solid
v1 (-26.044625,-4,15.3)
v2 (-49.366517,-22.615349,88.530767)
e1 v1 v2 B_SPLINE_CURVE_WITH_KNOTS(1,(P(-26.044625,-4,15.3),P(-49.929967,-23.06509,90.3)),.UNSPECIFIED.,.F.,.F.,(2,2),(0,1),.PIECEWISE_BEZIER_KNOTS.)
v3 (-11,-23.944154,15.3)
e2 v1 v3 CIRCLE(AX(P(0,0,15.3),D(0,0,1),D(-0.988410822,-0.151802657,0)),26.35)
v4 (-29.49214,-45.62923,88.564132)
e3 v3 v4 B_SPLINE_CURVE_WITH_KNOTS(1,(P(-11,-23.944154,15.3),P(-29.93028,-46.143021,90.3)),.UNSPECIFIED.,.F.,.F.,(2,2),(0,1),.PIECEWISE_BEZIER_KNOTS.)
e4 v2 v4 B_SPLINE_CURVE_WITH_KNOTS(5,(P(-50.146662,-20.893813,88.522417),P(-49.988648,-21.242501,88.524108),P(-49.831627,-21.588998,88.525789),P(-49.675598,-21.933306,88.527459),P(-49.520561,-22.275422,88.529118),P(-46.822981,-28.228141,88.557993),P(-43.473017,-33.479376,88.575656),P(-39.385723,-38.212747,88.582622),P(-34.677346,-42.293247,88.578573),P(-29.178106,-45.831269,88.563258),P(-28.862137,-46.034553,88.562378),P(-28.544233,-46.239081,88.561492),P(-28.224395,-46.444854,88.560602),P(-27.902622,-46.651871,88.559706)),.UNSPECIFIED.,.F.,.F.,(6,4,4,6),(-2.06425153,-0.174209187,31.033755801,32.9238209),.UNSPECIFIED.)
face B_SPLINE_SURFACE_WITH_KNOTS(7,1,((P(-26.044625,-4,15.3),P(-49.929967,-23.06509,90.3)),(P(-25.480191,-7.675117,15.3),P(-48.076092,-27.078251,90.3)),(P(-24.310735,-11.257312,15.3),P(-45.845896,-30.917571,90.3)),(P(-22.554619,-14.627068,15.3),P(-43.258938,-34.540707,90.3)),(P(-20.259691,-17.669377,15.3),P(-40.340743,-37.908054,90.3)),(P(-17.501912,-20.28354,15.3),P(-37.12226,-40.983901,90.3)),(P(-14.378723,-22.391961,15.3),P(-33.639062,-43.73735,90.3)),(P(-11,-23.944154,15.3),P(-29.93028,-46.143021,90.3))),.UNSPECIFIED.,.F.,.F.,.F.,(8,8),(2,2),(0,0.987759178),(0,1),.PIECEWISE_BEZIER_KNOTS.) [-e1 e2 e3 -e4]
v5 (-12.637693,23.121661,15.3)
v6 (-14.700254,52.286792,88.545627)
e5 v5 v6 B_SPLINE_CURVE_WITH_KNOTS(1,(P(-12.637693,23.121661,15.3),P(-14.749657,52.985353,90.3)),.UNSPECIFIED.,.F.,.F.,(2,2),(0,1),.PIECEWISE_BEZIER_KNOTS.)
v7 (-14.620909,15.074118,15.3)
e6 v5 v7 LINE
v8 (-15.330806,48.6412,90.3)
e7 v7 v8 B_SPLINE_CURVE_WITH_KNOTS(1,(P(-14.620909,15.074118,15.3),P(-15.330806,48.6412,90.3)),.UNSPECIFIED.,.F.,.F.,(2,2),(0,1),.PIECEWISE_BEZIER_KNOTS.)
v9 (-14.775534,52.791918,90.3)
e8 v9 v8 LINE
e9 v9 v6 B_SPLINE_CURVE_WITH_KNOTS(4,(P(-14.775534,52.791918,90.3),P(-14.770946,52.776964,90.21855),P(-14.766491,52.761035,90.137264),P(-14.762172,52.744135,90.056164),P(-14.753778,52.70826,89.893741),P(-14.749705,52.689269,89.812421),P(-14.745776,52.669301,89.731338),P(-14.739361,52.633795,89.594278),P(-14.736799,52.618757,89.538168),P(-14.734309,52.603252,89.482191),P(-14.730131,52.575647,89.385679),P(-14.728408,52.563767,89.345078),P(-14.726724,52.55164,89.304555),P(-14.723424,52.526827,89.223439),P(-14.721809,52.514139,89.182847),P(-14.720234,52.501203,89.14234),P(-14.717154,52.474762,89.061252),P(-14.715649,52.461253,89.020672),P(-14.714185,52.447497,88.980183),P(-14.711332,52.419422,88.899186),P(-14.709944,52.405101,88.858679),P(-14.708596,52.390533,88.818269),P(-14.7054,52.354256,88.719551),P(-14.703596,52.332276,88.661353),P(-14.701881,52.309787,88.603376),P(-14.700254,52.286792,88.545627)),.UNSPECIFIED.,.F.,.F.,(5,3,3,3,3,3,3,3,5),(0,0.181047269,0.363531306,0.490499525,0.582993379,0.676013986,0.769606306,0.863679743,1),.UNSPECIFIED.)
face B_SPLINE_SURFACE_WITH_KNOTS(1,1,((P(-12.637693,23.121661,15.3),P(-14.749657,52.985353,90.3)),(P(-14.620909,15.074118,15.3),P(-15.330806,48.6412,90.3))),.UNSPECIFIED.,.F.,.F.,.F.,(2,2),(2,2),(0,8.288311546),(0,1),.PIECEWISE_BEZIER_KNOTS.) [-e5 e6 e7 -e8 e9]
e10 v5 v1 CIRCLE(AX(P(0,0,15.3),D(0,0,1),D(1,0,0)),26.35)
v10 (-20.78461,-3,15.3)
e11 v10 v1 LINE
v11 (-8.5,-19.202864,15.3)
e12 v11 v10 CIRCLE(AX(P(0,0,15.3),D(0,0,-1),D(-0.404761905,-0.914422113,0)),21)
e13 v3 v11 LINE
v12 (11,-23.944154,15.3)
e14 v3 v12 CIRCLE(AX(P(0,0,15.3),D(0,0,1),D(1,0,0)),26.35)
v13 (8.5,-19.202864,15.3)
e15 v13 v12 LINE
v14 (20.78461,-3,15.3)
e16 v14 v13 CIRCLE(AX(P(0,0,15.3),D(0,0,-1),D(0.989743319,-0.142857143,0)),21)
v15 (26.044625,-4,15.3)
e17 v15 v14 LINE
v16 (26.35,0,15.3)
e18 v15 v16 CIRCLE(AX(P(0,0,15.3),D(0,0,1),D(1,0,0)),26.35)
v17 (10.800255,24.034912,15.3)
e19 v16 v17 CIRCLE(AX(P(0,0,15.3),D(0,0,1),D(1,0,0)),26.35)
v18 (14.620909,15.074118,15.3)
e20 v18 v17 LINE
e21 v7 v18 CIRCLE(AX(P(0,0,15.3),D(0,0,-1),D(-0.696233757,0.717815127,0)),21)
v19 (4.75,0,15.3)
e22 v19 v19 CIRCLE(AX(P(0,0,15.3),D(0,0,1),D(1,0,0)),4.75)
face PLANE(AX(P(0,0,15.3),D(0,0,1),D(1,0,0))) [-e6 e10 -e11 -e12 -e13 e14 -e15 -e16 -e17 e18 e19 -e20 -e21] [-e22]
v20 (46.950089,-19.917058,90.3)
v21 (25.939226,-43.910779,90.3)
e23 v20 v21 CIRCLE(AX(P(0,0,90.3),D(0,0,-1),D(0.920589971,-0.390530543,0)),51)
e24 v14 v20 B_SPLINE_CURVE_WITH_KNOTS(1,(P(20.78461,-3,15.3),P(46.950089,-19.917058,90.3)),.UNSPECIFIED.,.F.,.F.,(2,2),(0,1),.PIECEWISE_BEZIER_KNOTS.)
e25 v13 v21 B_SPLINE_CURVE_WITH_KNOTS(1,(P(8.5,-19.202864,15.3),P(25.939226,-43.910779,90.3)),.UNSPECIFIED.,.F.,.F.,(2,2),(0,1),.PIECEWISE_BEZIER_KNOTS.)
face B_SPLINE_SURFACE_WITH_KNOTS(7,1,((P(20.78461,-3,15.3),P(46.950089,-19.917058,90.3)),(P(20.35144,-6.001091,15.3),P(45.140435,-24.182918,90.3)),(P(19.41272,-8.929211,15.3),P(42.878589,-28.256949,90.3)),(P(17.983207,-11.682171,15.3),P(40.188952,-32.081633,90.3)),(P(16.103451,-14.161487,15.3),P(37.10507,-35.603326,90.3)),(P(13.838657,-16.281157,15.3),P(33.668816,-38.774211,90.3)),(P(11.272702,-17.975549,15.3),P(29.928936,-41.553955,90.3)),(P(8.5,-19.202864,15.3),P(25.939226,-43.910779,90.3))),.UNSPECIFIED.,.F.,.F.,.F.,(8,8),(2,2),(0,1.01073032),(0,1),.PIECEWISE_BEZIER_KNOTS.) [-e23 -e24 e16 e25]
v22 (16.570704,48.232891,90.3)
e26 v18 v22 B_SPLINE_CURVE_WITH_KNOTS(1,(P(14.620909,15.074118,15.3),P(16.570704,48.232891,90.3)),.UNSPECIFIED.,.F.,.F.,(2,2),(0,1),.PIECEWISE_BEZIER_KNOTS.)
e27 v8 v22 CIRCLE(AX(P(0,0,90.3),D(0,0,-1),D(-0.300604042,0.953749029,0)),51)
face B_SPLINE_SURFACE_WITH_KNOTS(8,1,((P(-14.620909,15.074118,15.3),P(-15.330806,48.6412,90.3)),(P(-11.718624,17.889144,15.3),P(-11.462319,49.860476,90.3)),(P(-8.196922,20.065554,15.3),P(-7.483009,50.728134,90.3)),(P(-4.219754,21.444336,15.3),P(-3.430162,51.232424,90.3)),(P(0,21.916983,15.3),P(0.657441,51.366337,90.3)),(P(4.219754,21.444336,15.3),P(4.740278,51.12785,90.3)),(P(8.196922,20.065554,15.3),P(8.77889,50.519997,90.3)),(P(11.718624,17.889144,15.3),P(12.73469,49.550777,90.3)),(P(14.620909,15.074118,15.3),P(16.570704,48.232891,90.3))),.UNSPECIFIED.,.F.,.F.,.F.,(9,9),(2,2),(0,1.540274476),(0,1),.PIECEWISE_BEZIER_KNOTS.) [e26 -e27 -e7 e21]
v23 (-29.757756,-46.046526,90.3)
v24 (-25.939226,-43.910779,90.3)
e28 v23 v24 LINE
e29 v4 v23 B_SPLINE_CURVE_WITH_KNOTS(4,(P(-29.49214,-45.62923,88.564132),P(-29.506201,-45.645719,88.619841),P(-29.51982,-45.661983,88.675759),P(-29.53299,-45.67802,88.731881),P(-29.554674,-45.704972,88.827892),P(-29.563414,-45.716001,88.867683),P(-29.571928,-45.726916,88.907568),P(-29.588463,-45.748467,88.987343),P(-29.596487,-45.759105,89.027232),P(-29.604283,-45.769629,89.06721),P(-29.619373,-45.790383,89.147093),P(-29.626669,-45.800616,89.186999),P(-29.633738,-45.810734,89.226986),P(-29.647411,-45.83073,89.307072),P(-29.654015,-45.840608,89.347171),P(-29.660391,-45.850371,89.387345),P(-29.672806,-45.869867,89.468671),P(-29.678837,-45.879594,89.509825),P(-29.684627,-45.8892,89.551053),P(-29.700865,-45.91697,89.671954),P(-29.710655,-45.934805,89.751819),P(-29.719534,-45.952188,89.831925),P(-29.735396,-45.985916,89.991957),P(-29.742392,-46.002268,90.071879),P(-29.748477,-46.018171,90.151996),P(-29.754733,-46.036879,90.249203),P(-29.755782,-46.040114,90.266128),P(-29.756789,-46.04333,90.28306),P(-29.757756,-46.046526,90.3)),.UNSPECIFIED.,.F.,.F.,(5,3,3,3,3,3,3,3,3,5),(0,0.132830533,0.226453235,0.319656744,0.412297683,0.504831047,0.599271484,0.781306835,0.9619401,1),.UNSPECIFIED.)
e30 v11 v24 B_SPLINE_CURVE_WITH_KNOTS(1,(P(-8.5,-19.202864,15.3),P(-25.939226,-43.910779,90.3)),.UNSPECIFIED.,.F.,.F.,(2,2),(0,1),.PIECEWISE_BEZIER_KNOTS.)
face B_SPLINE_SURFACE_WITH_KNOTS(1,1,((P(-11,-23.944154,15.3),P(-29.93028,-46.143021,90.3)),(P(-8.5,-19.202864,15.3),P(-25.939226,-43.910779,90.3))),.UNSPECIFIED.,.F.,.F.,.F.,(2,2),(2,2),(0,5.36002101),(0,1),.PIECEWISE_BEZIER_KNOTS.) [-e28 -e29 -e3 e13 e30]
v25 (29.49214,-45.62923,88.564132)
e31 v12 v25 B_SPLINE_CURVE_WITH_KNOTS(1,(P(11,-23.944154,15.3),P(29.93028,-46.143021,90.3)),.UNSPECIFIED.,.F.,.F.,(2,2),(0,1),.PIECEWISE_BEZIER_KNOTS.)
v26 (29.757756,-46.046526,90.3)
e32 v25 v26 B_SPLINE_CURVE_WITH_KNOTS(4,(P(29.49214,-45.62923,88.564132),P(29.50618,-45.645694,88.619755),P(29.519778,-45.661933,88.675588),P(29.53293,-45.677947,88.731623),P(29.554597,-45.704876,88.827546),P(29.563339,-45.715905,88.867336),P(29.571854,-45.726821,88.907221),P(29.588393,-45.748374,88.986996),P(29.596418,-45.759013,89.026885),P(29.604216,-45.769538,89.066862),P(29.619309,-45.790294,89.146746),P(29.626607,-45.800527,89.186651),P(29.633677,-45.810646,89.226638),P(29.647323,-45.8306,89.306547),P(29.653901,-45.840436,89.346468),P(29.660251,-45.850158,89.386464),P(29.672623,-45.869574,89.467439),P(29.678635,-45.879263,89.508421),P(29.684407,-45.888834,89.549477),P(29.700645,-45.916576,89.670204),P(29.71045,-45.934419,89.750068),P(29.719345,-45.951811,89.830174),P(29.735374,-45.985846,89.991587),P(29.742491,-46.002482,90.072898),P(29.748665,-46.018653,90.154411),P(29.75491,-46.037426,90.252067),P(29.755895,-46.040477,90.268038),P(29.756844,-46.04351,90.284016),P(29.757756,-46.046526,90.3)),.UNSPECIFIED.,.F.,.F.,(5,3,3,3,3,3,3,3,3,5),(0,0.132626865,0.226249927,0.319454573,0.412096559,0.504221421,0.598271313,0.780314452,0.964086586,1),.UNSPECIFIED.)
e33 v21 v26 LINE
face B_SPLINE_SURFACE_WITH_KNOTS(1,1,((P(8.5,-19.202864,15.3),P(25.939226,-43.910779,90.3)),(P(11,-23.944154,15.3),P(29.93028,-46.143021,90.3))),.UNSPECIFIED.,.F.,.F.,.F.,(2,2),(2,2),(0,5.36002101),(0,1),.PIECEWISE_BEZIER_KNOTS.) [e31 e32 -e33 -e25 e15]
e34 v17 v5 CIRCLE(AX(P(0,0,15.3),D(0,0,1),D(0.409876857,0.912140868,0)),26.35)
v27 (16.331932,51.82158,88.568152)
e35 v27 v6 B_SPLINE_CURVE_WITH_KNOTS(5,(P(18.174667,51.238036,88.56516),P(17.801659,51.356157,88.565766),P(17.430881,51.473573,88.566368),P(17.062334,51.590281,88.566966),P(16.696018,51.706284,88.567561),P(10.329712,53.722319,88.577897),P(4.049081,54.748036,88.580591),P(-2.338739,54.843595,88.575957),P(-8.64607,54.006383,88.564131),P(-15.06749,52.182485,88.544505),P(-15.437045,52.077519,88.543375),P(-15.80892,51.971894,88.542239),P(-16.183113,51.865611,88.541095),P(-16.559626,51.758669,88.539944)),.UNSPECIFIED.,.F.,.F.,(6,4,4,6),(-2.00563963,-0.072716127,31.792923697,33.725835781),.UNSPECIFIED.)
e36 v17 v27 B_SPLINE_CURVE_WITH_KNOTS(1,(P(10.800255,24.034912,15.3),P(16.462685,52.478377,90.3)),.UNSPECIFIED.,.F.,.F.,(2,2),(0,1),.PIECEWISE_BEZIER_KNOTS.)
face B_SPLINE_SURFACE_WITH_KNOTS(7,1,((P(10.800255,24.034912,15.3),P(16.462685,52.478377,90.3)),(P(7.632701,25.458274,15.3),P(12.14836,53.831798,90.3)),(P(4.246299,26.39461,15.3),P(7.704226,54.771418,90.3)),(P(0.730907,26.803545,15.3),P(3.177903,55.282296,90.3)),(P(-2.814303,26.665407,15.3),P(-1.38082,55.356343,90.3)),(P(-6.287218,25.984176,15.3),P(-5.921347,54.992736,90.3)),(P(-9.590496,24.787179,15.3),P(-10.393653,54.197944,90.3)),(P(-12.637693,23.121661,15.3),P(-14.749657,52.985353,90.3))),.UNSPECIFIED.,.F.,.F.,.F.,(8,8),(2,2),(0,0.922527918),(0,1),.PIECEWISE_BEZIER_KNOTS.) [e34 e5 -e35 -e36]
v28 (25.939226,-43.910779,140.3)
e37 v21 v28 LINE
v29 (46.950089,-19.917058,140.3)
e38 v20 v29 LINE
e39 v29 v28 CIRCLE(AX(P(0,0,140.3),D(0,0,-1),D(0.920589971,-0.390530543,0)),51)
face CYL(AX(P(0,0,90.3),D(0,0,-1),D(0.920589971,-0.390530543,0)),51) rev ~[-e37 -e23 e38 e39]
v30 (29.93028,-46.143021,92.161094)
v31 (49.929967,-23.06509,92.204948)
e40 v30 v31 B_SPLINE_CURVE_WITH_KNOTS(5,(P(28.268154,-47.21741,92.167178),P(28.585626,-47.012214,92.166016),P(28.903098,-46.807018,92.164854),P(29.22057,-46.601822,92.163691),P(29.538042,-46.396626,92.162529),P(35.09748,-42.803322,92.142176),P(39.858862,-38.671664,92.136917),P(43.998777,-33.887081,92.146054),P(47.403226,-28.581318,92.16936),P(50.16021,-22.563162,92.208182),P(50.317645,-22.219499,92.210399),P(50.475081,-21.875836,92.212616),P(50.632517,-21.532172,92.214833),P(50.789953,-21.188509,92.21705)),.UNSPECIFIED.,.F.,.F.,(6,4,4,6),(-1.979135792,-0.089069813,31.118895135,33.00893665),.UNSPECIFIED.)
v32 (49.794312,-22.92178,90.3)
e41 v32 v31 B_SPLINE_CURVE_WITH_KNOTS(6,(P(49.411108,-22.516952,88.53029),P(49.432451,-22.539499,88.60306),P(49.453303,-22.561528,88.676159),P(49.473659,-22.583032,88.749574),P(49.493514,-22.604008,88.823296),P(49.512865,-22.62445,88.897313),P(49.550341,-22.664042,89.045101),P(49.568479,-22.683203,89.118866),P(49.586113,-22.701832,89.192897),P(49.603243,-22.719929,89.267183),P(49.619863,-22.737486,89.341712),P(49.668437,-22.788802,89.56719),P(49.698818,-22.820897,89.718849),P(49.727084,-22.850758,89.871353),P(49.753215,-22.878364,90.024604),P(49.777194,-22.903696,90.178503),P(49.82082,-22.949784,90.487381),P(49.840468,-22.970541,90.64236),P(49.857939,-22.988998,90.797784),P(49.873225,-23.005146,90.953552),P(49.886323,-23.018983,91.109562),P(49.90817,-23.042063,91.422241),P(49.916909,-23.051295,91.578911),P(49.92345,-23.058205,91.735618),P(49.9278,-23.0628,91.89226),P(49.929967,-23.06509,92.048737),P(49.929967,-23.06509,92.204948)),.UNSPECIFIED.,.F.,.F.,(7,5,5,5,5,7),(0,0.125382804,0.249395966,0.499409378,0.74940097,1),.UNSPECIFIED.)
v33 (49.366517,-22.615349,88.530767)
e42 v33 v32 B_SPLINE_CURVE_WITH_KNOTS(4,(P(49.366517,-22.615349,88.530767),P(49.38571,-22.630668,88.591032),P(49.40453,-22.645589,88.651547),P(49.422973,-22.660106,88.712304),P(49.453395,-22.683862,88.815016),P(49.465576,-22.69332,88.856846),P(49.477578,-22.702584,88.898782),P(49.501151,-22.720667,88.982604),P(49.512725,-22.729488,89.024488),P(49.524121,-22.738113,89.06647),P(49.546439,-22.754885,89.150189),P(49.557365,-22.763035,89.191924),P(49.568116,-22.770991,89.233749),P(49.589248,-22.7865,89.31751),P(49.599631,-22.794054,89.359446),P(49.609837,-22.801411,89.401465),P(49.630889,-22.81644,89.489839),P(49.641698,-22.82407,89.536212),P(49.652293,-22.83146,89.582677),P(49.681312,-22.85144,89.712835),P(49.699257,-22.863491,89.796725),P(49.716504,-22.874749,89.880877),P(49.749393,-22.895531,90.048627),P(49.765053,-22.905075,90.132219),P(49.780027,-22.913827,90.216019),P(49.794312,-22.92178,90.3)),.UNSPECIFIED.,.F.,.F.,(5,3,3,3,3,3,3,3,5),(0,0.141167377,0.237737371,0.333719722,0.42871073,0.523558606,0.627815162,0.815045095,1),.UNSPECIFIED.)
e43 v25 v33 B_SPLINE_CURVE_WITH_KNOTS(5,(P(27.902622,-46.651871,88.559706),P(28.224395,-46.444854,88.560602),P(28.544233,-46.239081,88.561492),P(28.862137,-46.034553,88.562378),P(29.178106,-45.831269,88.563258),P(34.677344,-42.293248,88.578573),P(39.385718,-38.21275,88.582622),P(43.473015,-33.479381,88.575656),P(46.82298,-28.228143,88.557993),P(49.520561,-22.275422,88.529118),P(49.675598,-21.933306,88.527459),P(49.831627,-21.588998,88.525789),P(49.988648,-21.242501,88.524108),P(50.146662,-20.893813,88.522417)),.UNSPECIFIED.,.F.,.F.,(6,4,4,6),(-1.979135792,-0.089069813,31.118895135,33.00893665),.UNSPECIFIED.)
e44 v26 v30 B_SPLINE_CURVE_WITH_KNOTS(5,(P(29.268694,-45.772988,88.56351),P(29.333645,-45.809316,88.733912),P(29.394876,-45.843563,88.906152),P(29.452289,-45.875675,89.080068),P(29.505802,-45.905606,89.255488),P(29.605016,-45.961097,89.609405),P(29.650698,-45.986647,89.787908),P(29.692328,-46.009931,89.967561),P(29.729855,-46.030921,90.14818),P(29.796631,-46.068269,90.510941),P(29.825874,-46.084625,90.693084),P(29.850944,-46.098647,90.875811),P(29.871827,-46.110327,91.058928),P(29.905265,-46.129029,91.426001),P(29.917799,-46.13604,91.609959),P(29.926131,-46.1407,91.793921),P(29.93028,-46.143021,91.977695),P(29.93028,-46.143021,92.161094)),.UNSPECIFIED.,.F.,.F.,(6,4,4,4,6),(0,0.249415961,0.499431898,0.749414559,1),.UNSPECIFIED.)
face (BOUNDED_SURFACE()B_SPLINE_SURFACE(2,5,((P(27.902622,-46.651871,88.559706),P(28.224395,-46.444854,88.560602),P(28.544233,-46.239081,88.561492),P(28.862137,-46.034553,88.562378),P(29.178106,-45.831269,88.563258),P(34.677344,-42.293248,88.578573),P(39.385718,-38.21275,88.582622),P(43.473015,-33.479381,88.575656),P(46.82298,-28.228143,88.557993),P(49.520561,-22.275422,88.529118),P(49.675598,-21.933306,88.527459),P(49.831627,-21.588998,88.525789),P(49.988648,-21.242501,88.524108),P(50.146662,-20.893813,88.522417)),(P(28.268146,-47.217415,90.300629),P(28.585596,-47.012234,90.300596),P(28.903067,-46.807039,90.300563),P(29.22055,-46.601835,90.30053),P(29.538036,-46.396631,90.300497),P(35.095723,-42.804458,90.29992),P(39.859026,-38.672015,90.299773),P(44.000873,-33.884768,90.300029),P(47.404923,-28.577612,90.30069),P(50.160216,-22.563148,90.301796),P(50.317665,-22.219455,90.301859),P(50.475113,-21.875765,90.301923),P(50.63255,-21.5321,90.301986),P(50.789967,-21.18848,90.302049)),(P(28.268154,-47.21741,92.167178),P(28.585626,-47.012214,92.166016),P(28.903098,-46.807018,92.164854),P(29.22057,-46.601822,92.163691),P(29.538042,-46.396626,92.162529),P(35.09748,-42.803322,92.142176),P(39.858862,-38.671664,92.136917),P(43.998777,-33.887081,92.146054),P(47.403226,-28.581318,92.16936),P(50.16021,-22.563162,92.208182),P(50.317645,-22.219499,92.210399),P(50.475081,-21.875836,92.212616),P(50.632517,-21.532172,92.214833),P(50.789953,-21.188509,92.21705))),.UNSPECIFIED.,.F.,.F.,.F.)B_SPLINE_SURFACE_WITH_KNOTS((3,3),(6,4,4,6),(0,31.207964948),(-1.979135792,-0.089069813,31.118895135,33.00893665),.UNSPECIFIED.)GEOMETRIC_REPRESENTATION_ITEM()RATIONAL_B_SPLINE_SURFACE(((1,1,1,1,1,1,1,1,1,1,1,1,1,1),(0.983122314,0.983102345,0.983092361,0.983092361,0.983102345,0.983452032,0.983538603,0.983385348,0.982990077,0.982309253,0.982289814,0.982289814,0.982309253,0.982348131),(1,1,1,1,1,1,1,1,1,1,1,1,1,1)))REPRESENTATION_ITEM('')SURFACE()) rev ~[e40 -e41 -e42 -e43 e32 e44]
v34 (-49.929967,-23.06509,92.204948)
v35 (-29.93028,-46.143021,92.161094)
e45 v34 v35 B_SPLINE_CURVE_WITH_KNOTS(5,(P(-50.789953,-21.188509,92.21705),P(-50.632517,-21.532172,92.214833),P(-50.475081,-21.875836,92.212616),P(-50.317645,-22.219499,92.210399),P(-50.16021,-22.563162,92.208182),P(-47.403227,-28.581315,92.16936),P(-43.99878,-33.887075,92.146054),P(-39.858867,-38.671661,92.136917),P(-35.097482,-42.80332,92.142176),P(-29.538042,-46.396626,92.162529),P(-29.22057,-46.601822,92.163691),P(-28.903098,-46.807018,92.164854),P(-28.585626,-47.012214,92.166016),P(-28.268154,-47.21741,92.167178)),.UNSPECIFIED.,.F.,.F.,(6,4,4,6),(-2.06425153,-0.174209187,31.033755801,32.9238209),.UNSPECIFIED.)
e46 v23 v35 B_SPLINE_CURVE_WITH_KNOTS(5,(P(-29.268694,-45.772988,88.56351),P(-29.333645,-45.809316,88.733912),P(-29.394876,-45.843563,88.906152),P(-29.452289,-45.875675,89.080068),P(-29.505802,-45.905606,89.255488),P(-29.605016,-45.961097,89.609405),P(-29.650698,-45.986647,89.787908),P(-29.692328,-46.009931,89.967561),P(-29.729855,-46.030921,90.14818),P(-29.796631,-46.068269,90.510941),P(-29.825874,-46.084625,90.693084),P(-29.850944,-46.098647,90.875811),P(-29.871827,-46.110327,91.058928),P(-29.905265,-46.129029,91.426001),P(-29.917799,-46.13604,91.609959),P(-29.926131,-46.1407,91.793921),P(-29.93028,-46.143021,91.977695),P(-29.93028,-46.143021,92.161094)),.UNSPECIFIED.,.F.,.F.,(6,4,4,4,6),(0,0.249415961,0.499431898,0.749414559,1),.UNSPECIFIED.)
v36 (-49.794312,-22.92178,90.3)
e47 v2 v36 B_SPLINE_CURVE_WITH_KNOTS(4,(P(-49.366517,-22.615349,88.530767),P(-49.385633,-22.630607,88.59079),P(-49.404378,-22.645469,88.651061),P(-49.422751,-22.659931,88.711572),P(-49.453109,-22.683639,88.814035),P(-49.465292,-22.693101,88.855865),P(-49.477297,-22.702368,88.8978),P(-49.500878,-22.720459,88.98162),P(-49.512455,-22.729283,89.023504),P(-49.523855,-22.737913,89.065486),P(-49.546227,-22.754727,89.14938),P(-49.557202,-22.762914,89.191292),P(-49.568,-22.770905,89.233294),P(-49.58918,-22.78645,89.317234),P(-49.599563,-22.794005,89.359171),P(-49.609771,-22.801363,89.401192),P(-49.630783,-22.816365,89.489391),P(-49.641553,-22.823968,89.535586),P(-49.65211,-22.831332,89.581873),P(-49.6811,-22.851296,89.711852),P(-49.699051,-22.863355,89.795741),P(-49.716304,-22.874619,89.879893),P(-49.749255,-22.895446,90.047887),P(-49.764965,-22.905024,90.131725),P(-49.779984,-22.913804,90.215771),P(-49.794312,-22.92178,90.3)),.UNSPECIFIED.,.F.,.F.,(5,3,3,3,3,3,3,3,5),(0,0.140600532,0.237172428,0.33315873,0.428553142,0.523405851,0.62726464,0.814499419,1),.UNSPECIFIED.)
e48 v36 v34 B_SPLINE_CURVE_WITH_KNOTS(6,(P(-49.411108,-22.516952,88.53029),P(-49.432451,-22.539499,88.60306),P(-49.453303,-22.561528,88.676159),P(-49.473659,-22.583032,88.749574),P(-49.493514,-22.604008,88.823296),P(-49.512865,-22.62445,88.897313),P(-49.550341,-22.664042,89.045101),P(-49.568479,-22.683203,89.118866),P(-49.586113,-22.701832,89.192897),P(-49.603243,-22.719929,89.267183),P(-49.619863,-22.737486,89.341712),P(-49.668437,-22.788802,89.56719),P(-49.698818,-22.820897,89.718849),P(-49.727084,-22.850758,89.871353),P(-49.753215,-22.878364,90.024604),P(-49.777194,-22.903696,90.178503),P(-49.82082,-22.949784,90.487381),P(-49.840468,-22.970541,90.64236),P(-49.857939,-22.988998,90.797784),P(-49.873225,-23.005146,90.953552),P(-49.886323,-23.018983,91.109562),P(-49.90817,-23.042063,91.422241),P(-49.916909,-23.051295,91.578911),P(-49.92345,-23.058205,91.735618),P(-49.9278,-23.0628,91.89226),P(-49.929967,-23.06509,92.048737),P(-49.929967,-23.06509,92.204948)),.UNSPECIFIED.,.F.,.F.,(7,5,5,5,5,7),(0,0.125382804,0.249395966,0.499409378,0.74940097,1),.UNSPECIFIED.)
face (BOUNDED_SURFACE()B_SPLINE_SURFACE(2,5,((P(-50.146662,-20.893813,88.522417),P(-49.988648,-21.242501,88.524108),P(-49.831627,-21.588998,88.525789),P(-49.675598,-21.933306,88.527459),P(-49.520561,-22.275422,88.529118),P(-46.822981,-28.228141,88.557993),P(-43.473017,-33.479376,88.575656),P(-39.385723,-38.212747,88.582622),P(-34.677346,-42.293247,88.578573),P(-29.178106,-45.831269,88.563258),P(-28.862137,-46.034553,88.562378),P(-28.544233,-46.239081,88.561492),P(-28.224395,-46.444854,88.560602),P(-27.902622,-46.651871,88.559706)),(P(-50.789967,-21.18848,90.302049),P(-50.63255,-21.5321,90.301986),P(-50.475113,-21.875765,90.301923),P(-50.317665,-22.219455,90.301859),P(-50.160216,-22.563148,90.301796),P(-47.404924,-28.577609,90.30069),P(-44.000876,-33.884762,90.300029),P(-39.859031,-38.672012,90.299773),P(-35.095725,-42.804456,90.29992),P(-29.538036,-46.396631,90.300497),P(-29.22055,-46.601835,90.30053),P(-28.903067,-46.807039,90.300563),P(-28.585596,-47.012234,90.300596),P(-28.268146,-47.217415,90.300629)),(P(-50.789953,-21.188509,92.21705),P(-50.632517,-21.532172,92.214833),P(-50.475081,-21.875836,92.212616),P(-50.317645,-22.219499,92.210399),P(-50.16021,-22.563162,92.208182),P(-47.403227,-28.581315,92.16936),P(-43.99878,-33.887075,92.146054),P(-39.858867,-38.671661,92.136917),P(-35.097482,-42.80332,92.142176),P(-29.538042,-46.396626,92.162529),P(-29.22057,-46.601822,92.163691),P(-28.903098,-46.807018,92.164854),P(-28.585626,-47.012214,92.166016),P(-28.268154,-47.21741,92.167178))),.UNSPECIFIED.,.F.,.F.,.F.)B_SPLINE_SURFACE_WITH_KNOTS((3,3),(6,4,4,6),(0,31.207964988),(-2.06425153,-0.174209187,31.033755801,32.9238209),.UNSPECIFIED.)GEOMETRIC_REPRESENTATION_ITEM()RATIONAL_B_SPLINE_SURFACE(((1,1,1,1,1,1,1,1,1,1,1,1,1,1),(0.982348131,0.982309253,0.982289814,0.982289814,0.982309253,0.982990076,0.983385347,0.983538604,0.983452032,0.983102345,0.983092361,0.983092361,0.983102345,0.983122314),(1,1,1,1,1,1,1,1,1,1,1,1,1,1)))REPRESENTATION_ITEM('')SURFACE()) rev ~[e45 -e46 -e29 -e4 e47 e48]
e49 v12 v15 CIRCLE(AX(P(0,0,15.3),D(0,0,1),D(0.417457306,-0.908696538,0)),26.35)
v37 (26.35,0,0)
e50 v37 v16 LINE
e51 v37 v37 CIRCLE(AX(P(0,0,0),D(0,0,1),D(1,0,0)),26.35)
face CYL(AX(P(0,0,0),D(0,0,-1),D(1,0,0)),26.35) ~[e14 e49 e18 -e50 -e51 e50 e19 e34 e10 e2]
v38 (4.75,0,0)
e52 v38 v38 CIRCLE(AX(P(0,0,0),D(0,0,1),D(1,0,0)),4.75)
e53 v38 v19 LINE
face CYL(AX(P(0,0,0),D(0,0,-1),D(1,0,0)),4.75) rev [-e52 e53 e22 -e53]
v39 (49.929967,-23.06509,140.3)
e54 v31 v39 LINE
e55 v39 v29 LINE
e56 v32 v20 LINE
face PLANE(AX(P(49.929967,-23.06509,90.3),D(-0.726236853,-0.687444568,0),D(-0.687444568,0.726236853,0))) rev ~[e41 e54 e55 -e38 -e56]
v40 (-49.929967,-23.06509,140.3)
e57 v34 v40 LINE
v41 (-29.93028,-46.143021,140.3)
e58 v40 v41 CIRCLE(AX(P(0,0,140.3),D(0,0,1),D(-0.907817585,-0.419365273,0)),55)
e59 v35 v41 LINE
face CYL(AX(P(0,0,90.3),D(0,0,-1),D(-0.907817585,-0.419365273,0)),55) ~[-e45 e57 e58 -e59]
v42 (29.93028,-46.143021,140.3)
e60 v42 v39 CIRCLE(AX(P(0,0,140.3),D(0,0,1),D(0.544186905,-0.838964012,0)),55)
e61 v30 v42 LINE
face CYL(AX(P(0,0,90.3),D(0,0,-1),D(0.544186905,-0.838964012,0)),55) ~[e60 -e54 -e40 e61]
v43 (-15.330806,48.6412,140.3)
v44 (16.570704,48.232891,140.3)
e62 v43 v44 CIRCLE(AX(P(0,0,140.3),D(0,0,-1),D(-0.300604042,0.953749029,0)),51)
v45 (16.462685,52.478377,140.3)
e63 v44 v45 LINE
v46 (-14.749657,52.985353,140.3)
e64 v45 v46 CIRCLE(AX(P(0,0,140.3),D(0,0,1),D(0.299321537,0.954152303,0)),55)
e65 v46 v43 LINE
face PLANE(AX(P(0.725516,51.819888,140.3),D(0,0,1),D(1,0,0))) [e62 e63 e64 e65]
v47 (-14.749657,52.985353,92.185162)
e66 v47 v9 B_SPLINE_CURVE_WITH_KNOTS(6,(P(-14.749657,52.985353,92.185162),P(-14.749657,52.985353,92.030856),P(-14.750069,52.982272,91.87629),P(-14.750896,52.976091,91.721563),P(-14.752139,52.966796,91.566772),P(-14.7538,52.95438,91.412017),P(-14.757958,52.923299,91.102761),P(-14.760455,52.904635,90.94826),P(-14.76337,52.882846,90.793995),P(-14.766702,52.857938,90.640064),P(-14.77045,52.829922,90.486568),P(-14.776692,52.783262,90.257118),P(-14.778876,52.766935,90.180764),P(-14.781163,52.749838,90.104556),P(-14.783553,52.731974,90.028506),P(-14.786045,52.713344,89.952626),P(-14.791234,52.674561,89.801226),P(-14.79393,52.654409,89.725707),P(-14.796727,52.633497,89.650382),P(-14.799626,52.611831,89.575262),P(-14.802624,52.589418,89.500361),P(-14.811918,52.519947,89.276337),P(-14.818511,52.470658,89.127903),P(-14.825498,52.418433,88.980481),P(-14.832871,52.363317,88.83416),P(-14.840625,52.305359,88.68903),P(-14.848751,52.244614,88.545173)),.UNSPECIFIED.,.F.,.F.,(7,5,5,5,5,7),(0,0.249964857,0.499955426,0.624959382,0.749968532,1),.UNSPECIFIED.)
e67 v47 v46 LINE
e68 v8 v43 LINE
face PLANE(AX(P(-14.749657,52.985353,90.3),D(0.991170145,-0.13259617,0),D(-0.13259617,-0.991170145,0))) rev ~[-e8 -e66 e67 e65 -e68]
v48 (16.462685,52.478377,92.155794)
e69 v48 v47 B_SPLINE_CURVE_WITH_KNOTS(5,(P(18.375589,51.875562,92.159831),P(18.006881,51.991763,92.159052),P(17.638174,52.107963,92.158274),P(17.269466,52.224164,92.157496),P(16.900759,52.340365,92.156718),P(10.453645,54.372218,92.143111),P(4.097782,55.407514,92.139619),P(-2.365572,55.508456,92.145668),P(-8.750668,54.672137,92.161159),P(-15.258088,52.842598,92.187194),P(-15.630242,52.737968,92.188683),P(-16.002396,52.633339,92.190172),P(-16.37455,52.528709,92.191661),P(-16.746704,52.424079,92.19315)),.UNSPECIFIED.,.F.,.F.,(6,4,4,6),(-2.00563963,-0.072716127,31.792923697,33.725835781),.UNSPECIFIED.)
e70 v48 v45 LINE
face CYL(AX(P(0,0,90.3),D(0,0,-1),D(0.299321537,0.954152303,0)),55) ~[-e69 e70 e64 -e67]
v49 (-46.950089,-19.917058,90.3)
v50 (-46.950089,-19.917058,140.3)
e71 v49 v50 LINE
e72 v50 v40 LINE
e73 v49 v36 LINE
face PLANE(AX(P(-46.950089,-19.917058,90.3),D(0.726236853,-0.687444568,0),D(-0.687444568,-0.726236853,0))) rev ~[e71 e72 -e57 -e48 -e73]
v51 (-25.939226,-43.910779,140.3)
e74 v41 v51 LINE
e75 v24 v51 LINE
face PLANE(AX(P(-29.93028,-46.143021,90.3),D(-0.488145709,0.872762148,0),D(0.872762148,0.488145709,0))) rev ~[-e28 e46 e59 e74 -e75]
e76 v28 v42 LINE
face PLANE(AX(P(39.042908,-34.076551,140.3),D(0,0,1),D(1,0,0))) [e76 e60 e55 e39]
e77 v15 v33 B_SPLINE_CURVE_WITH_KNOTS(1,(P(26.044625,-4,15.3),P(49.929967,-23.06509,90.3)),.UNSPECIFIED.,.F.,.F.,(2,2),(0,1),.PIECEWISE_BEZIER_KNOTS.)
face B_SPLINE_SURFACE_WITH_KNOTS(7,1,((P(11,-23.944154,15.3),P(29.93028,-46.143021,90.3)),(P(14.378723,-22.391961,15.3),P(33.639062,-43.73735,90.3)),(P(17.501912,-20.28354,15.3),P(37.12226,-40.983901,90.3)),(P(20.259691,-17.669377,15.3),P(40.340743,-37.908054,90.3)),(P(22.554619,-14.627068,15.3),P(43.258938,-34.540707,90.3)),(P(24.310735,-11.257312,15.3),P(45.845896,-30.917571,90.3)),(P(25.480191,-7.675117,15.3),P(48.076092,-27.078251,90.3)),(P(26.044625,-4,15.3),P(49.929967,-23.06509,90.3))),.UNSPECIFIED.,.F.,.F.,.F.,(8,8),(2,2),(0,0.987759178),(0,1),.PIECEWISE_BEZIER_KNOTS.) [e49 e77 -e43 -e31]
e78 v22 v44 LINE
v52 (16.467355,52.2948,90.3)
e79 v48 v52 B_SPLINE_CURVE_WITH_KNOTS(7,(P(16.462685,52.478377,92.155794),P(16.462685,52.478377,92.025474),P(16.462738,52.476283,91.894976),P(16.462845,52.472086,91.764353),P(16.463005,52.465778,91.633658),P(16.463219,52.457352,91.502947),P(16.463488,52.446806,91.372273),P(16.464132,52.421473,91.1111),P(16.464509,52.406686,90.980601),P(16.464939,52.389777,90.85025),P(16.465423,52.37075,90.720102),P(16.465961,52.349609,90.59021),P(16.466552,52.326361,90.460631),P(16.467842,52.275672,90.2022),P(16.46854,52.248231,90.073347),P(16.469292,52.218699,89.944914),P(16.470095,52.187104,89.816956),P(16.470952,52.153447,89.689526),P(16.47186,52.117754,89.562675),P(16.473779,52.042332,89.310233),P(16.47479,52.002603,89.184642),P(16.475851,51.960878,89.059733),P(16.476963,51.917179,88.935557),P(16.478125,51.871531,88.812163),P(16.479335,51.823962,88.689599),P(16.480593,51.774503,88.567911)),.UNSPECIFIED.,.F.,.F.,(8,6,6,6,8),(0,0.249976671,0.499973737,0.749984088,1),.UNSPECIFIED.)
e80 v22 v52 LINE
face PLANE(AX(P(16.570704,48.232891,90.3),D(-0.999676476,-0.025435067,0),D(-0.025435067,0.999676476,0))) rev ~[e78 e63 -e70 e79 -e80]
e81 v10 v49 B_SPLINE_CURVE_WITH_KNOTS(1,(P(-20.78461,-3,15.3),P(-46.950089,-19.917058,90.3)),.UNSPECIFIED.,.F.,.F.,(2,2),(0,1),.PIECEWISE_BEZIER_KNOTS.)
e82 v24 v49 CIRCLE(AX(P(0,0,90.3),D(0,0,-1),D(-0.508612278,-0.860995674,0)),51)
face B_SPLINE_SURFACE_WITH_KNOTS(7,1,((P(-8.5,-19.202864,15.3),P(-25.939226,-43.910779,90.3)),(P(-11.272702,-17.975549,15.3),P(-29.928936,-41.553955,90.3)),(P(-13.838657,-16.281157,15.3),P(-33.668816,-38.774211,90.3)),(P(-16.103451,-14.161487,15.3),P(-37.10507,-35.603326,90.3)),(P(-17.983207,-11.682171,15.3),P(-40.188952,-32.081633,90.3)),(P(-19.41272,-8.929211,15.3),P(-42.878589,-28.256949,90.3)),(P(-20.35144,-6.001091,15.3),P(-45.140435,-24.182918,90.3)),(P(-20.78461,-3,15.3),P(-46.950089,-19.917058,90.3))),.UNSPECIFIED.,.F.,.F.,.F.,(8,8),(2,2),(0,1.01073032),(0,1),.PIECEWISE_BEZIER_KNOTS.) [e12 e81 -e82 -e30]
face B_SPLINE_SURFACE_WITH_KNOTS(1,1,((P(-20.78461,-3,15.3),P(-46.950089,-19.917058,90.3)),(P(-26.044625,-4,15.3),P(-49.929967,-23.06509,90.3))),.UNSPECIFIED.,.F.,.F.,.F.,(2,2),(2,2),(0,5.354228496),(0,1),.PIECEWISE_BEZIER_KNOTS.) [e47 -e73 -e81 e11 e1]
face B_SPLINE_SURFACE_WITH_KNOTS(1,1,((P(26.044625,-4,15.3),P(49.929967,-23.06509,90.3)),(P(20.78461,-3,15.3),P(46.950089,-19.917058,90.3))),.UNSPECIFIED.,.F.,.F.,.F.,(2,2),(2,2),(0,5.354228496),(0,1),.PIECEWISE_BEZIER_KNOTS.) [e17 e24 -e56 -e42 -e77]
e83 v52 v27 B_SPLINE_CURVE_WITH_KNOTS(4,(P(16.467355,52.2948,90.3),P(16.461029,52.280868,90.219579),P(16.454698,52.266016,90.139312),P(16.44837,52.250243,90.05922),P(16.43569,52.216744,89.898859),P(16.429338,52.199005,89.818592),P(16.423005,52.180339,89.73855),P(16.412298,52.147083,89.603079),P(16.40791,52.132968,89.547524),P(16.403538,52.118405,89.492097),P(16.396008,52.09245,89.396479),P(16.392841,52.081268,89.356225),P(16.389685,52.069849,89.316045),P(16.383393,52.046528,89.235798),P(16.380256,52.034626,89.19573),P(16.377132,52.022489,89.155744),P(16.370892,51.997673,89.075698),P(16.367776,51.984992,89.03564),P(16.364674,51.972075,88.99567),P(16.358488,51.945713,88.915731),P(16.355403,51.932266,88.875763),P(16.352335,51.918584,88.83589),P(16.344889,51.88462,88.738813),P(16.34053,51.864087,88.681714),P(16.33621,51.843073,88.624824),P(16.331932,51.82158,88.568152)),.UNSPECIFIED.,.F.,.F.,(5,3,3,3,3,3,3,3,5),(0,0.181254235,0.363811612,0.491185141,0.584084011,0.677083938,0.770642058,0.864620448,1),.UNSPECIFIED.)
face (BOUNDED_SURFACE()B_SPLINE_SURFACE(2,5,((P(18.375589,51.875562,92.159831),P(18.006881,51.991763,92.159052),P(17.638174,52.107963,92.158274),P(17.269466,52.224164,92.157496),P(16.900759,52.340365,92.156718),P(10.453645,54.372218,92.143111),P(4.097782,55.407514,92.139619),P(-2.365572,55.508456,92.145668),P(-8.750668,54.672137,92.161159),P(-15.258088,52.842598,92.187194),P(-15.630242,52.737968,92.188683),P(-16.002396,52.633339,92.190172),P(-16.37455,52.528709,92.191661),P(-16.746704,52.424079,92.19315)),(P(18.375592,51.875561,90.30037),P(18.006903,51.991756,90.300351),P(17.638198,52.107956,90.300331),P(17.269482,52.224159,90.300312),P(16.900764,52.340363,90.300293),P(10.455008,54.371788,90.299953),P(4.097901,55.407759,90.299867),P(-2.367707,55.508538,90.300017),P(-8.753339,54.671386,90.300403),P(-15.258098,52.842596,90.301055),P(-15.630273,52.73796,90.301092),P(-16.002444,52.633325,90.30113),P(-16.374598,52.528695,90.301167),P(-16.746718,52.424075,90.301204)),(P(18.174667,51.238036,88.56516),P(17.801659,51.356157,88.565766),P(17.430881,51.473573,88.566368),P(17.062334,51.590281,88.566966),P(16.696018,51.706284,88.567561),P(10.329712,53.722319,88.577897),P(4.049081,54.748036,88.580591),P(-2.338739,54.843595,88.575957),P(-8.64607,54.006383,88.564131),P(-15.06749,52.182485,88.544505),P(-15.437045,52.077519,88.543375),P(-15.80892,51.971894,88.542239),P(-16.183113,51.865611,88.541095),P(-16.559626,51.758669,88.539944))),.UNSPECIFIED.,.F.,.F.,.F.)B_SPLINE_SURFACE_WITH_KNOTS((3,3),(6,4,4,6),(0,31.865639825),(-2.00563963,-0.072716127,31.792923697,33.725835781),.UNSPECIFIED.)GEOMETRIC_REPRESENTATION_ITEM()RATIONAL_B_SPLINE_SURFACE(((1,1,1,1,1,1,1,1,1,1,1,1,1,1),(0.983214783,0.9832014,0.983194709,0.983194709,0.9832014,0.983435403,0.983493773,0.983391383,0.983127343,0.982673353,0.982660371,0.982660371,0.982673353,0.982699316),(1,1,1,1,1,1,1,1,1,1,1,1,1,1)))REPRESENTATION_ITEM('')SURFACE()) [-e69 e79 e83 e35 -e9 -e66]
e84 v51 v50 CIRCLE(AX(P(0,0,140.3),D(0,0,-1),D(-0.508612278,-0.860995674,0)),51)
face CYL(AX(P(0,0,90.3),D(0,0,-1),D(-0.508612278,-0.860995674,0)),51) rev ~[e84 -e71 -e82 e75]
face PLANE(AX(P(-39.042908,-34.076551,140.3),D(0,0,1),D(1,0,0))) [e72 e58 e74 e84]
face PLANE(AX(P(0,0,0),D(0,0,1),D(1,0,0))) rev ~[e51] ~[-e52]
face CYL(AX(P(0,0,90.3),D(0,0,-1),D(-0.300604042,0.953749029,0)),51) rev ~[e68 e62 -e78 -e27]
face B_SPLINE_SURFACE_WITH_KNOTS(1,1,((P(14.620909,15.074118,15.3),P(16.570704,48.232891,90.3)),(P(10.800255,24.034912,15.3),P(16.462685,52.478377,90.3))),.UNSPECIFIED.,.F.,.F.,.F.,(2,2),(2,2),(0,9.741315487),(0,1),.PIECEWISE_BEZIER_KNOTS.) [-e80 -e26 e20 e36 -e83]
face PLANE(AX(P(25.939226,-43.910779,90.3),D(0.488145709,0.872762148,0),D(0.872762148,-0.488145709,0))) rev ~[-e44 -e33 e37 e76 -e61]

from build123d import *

# Parameters (mm, degrees)
F0_R      = 26.35
F0_R_2    = 4.75
F1_DEPTH  = 15.3
F10_DEPTH = 50
F11_R     = 10


with BuildPart() as f1:
    # F0 (on Top) → F1 (new body)
    with BuildSketch(Plane.XY):
        Circle(F0_R)
        Circle(F0_R_2, mode=Mode.SUBTRACT)
    extrude(amount=F1_DEPTH)

    # F3 (on offset) → F6 section 0
    with BuildSketch(Plane.XY.offset(15.3)):
        with BuildLine():
            Line((-20.7846096908, -3), (-26.0446251653, -4))
            ThreePointArc((-26.0446251653, -4), (-21.0361208605, -15.8683369999), (-11, -23.944153775))
            Line((-11, -23.944153775), (-8.5, -19.2028643697))
            ThreePointArc((-8.5, -19.2028643697), (-16.7341057315, -12.6873837086), (-20.7846096908, -3))
        make_face()
    # F5 (on offset) → F6 section 1
    with BuildSketch(Plane.XY.offset(90.3)):
        with BuildLine():
            Line((-46.9500885253, -19.917057701), (-49.9299671879, -23.0650899979))
            ThreePointArc((-49.9299671879, -23.0650899979), (-41.5639565173, -36.0199600032), (-29.9302797625, -46.1430206352))
            Line((-29.9302797625, -46.1430206352), (-25.939226182, -43.9107793723))
            ThreePointArc((-25.939226182, -43.9107793723), (-38.3684469263, -33.5985458088), (-46.9500885253, -19.917057701))
        make_face()
    loft()

    # F3 (on offset) → F7 section 0
    with BuildSketch(Plane.XY.offset(15.3)):
        with BuildLine():
            ThreePointArc((11, -23.944153775), (21.0361208605, -15.8683369999), (26.0446251653, -4))
            Line((26.0446251653, -4), (20.7846096908, -3))
            ThreePointArc((20.7846096908, -3), (16.7341057315, -12.6873837086), (8.5, -19.2028643697))
            Line((8.5, -19.2028643697), (11, -23.944153775))
        make_face()
    # F5 (on offset) → F7 section 1
    with BuildSketch(Plane.XY.offset(90.3)):
        with BuildLine():
            ThreePointArc((29.9302797625, -46.1430206352), (41.5639565173, -36.0199600032), (49.9299671879, -23.0650899979))
            Line((49.9299671879, -23.0650899979), (46.9500885253, -19.917057701))
            ThreePointArc((46.9500885253, -19.917057701), (38.3684469263, -33.5985458088), (25.939226182, -43.9107793723))
            Line((25.939226182, -43.9107793723), (29.9302797625, -46.1430206352))
        make_face()
    loft()

    # F3 (on offset) → F8 section 0
    with BuildSketch(Plane.XY.offset(15.3)):
        with BuildLine():
            Line((14.6209088882, 15.0741176618), (10.8002551784, 24.0349118592))
            ThreePointArc((10.8002551784, 24.0349118592), (-1.0259388653, 26.3300199287), (-12.6376925006, 23.1216614511))
            Line((-12.6376925006, 23.1216614511), (-14.6209088882, 15.0741176618))
            ThreePointArc((-14.6209088882, 15.0741176618), (0, 21), (14.6209088882, 15.0741176618))
        make_face()
    # F5 (on offset) → F8 section 1
    with BuildSketch(Plane.XY.offset(90.3)):
        with BuildLine():
            Line((16.5707036778, 48.232891056), (16.4626845195, 52.4783766747))
            ThreePointArc((16.4626845195, 52.4783766747), (0.8932369884, 54.9927461369), (-14.7496566957, 52.9853529512))
            Line((-14.7496566957, 52.9853529512), (-15.3308061409, 48.641200469))
            ThreePointArc((-15.3308061409, 48.641200469), (0.6526987204, 50.9958232052), (16.5707036778, 48.232891056))
        make_face()
    loft()

    # F9 (on offset) → F10 (join)
    with BuildSketch(Plane.XY.offset(90.3)):
        with BuildLine():
            Line((16.5707036778, 48.232891056), (16.4626845195, 52.4783766747))
            ThreePointArc((16.4626845195, 52.4783766747), (0.8932369884, 54.9927461369), (-14.7496566957, 52.9853529512))
            Line((-14.7496566957, 52.9853529512), (-15.3308061409, 48.641200469))
            ThreePointArc((-15.3308061409, 48.641200469), (0.6526987204, 50.9958232052), (16.5707036778, 48.232891056))
        make_face()
        with BuildLine():
            ThreePointArc((-25.939226182, -43.9107793723), (-38.3684469263, -33.5985458088), (-46.9500885253, -19.917057701))
            Line((-46.9500885253, -19.917057701), (-49.9299671879, -23.0650899979))
            ThreePointArc((-49.9299671879, -23.0650899979), (-41.5639565173, -36.0199600032), (-29.9302797625, -46.1430206352))
            Line((-29.9302797625, -46.1430206352), (-25.939226182, -43.9107793723))
        make_face()
        with BuildLine():
            ThreePointArc((46.9500885253, -19.917057701), (38.3684469263, -33.5985458088), (25.939226182, -43.9107793723))
            Line((25.939226182, -43.9107793723), (29.9302797625, -46.1430206352))
            ThreePointArc((29.9302797625, -46.1430206352), (41.5639565173, -36.0199600032), (49.9299671879, -23.0650899979))
            Line((49.9299671879, -23.0650899979), (46.9500885253, -19.917057701))
        make_face()
    extrude(amount=F10_DEPTH)

    # F11
    f11_edges = [f1.edges().sort_by_distance(p)[0] for p in [
        (-41.563957, -36.01996, 90.3),
        (41.563957, -36.01996, 90.3),
        (0.893237, 54.992746, 90.3),
    ]]
    fillet(f11_edges, radius=F11_R)


solid = f1.part
